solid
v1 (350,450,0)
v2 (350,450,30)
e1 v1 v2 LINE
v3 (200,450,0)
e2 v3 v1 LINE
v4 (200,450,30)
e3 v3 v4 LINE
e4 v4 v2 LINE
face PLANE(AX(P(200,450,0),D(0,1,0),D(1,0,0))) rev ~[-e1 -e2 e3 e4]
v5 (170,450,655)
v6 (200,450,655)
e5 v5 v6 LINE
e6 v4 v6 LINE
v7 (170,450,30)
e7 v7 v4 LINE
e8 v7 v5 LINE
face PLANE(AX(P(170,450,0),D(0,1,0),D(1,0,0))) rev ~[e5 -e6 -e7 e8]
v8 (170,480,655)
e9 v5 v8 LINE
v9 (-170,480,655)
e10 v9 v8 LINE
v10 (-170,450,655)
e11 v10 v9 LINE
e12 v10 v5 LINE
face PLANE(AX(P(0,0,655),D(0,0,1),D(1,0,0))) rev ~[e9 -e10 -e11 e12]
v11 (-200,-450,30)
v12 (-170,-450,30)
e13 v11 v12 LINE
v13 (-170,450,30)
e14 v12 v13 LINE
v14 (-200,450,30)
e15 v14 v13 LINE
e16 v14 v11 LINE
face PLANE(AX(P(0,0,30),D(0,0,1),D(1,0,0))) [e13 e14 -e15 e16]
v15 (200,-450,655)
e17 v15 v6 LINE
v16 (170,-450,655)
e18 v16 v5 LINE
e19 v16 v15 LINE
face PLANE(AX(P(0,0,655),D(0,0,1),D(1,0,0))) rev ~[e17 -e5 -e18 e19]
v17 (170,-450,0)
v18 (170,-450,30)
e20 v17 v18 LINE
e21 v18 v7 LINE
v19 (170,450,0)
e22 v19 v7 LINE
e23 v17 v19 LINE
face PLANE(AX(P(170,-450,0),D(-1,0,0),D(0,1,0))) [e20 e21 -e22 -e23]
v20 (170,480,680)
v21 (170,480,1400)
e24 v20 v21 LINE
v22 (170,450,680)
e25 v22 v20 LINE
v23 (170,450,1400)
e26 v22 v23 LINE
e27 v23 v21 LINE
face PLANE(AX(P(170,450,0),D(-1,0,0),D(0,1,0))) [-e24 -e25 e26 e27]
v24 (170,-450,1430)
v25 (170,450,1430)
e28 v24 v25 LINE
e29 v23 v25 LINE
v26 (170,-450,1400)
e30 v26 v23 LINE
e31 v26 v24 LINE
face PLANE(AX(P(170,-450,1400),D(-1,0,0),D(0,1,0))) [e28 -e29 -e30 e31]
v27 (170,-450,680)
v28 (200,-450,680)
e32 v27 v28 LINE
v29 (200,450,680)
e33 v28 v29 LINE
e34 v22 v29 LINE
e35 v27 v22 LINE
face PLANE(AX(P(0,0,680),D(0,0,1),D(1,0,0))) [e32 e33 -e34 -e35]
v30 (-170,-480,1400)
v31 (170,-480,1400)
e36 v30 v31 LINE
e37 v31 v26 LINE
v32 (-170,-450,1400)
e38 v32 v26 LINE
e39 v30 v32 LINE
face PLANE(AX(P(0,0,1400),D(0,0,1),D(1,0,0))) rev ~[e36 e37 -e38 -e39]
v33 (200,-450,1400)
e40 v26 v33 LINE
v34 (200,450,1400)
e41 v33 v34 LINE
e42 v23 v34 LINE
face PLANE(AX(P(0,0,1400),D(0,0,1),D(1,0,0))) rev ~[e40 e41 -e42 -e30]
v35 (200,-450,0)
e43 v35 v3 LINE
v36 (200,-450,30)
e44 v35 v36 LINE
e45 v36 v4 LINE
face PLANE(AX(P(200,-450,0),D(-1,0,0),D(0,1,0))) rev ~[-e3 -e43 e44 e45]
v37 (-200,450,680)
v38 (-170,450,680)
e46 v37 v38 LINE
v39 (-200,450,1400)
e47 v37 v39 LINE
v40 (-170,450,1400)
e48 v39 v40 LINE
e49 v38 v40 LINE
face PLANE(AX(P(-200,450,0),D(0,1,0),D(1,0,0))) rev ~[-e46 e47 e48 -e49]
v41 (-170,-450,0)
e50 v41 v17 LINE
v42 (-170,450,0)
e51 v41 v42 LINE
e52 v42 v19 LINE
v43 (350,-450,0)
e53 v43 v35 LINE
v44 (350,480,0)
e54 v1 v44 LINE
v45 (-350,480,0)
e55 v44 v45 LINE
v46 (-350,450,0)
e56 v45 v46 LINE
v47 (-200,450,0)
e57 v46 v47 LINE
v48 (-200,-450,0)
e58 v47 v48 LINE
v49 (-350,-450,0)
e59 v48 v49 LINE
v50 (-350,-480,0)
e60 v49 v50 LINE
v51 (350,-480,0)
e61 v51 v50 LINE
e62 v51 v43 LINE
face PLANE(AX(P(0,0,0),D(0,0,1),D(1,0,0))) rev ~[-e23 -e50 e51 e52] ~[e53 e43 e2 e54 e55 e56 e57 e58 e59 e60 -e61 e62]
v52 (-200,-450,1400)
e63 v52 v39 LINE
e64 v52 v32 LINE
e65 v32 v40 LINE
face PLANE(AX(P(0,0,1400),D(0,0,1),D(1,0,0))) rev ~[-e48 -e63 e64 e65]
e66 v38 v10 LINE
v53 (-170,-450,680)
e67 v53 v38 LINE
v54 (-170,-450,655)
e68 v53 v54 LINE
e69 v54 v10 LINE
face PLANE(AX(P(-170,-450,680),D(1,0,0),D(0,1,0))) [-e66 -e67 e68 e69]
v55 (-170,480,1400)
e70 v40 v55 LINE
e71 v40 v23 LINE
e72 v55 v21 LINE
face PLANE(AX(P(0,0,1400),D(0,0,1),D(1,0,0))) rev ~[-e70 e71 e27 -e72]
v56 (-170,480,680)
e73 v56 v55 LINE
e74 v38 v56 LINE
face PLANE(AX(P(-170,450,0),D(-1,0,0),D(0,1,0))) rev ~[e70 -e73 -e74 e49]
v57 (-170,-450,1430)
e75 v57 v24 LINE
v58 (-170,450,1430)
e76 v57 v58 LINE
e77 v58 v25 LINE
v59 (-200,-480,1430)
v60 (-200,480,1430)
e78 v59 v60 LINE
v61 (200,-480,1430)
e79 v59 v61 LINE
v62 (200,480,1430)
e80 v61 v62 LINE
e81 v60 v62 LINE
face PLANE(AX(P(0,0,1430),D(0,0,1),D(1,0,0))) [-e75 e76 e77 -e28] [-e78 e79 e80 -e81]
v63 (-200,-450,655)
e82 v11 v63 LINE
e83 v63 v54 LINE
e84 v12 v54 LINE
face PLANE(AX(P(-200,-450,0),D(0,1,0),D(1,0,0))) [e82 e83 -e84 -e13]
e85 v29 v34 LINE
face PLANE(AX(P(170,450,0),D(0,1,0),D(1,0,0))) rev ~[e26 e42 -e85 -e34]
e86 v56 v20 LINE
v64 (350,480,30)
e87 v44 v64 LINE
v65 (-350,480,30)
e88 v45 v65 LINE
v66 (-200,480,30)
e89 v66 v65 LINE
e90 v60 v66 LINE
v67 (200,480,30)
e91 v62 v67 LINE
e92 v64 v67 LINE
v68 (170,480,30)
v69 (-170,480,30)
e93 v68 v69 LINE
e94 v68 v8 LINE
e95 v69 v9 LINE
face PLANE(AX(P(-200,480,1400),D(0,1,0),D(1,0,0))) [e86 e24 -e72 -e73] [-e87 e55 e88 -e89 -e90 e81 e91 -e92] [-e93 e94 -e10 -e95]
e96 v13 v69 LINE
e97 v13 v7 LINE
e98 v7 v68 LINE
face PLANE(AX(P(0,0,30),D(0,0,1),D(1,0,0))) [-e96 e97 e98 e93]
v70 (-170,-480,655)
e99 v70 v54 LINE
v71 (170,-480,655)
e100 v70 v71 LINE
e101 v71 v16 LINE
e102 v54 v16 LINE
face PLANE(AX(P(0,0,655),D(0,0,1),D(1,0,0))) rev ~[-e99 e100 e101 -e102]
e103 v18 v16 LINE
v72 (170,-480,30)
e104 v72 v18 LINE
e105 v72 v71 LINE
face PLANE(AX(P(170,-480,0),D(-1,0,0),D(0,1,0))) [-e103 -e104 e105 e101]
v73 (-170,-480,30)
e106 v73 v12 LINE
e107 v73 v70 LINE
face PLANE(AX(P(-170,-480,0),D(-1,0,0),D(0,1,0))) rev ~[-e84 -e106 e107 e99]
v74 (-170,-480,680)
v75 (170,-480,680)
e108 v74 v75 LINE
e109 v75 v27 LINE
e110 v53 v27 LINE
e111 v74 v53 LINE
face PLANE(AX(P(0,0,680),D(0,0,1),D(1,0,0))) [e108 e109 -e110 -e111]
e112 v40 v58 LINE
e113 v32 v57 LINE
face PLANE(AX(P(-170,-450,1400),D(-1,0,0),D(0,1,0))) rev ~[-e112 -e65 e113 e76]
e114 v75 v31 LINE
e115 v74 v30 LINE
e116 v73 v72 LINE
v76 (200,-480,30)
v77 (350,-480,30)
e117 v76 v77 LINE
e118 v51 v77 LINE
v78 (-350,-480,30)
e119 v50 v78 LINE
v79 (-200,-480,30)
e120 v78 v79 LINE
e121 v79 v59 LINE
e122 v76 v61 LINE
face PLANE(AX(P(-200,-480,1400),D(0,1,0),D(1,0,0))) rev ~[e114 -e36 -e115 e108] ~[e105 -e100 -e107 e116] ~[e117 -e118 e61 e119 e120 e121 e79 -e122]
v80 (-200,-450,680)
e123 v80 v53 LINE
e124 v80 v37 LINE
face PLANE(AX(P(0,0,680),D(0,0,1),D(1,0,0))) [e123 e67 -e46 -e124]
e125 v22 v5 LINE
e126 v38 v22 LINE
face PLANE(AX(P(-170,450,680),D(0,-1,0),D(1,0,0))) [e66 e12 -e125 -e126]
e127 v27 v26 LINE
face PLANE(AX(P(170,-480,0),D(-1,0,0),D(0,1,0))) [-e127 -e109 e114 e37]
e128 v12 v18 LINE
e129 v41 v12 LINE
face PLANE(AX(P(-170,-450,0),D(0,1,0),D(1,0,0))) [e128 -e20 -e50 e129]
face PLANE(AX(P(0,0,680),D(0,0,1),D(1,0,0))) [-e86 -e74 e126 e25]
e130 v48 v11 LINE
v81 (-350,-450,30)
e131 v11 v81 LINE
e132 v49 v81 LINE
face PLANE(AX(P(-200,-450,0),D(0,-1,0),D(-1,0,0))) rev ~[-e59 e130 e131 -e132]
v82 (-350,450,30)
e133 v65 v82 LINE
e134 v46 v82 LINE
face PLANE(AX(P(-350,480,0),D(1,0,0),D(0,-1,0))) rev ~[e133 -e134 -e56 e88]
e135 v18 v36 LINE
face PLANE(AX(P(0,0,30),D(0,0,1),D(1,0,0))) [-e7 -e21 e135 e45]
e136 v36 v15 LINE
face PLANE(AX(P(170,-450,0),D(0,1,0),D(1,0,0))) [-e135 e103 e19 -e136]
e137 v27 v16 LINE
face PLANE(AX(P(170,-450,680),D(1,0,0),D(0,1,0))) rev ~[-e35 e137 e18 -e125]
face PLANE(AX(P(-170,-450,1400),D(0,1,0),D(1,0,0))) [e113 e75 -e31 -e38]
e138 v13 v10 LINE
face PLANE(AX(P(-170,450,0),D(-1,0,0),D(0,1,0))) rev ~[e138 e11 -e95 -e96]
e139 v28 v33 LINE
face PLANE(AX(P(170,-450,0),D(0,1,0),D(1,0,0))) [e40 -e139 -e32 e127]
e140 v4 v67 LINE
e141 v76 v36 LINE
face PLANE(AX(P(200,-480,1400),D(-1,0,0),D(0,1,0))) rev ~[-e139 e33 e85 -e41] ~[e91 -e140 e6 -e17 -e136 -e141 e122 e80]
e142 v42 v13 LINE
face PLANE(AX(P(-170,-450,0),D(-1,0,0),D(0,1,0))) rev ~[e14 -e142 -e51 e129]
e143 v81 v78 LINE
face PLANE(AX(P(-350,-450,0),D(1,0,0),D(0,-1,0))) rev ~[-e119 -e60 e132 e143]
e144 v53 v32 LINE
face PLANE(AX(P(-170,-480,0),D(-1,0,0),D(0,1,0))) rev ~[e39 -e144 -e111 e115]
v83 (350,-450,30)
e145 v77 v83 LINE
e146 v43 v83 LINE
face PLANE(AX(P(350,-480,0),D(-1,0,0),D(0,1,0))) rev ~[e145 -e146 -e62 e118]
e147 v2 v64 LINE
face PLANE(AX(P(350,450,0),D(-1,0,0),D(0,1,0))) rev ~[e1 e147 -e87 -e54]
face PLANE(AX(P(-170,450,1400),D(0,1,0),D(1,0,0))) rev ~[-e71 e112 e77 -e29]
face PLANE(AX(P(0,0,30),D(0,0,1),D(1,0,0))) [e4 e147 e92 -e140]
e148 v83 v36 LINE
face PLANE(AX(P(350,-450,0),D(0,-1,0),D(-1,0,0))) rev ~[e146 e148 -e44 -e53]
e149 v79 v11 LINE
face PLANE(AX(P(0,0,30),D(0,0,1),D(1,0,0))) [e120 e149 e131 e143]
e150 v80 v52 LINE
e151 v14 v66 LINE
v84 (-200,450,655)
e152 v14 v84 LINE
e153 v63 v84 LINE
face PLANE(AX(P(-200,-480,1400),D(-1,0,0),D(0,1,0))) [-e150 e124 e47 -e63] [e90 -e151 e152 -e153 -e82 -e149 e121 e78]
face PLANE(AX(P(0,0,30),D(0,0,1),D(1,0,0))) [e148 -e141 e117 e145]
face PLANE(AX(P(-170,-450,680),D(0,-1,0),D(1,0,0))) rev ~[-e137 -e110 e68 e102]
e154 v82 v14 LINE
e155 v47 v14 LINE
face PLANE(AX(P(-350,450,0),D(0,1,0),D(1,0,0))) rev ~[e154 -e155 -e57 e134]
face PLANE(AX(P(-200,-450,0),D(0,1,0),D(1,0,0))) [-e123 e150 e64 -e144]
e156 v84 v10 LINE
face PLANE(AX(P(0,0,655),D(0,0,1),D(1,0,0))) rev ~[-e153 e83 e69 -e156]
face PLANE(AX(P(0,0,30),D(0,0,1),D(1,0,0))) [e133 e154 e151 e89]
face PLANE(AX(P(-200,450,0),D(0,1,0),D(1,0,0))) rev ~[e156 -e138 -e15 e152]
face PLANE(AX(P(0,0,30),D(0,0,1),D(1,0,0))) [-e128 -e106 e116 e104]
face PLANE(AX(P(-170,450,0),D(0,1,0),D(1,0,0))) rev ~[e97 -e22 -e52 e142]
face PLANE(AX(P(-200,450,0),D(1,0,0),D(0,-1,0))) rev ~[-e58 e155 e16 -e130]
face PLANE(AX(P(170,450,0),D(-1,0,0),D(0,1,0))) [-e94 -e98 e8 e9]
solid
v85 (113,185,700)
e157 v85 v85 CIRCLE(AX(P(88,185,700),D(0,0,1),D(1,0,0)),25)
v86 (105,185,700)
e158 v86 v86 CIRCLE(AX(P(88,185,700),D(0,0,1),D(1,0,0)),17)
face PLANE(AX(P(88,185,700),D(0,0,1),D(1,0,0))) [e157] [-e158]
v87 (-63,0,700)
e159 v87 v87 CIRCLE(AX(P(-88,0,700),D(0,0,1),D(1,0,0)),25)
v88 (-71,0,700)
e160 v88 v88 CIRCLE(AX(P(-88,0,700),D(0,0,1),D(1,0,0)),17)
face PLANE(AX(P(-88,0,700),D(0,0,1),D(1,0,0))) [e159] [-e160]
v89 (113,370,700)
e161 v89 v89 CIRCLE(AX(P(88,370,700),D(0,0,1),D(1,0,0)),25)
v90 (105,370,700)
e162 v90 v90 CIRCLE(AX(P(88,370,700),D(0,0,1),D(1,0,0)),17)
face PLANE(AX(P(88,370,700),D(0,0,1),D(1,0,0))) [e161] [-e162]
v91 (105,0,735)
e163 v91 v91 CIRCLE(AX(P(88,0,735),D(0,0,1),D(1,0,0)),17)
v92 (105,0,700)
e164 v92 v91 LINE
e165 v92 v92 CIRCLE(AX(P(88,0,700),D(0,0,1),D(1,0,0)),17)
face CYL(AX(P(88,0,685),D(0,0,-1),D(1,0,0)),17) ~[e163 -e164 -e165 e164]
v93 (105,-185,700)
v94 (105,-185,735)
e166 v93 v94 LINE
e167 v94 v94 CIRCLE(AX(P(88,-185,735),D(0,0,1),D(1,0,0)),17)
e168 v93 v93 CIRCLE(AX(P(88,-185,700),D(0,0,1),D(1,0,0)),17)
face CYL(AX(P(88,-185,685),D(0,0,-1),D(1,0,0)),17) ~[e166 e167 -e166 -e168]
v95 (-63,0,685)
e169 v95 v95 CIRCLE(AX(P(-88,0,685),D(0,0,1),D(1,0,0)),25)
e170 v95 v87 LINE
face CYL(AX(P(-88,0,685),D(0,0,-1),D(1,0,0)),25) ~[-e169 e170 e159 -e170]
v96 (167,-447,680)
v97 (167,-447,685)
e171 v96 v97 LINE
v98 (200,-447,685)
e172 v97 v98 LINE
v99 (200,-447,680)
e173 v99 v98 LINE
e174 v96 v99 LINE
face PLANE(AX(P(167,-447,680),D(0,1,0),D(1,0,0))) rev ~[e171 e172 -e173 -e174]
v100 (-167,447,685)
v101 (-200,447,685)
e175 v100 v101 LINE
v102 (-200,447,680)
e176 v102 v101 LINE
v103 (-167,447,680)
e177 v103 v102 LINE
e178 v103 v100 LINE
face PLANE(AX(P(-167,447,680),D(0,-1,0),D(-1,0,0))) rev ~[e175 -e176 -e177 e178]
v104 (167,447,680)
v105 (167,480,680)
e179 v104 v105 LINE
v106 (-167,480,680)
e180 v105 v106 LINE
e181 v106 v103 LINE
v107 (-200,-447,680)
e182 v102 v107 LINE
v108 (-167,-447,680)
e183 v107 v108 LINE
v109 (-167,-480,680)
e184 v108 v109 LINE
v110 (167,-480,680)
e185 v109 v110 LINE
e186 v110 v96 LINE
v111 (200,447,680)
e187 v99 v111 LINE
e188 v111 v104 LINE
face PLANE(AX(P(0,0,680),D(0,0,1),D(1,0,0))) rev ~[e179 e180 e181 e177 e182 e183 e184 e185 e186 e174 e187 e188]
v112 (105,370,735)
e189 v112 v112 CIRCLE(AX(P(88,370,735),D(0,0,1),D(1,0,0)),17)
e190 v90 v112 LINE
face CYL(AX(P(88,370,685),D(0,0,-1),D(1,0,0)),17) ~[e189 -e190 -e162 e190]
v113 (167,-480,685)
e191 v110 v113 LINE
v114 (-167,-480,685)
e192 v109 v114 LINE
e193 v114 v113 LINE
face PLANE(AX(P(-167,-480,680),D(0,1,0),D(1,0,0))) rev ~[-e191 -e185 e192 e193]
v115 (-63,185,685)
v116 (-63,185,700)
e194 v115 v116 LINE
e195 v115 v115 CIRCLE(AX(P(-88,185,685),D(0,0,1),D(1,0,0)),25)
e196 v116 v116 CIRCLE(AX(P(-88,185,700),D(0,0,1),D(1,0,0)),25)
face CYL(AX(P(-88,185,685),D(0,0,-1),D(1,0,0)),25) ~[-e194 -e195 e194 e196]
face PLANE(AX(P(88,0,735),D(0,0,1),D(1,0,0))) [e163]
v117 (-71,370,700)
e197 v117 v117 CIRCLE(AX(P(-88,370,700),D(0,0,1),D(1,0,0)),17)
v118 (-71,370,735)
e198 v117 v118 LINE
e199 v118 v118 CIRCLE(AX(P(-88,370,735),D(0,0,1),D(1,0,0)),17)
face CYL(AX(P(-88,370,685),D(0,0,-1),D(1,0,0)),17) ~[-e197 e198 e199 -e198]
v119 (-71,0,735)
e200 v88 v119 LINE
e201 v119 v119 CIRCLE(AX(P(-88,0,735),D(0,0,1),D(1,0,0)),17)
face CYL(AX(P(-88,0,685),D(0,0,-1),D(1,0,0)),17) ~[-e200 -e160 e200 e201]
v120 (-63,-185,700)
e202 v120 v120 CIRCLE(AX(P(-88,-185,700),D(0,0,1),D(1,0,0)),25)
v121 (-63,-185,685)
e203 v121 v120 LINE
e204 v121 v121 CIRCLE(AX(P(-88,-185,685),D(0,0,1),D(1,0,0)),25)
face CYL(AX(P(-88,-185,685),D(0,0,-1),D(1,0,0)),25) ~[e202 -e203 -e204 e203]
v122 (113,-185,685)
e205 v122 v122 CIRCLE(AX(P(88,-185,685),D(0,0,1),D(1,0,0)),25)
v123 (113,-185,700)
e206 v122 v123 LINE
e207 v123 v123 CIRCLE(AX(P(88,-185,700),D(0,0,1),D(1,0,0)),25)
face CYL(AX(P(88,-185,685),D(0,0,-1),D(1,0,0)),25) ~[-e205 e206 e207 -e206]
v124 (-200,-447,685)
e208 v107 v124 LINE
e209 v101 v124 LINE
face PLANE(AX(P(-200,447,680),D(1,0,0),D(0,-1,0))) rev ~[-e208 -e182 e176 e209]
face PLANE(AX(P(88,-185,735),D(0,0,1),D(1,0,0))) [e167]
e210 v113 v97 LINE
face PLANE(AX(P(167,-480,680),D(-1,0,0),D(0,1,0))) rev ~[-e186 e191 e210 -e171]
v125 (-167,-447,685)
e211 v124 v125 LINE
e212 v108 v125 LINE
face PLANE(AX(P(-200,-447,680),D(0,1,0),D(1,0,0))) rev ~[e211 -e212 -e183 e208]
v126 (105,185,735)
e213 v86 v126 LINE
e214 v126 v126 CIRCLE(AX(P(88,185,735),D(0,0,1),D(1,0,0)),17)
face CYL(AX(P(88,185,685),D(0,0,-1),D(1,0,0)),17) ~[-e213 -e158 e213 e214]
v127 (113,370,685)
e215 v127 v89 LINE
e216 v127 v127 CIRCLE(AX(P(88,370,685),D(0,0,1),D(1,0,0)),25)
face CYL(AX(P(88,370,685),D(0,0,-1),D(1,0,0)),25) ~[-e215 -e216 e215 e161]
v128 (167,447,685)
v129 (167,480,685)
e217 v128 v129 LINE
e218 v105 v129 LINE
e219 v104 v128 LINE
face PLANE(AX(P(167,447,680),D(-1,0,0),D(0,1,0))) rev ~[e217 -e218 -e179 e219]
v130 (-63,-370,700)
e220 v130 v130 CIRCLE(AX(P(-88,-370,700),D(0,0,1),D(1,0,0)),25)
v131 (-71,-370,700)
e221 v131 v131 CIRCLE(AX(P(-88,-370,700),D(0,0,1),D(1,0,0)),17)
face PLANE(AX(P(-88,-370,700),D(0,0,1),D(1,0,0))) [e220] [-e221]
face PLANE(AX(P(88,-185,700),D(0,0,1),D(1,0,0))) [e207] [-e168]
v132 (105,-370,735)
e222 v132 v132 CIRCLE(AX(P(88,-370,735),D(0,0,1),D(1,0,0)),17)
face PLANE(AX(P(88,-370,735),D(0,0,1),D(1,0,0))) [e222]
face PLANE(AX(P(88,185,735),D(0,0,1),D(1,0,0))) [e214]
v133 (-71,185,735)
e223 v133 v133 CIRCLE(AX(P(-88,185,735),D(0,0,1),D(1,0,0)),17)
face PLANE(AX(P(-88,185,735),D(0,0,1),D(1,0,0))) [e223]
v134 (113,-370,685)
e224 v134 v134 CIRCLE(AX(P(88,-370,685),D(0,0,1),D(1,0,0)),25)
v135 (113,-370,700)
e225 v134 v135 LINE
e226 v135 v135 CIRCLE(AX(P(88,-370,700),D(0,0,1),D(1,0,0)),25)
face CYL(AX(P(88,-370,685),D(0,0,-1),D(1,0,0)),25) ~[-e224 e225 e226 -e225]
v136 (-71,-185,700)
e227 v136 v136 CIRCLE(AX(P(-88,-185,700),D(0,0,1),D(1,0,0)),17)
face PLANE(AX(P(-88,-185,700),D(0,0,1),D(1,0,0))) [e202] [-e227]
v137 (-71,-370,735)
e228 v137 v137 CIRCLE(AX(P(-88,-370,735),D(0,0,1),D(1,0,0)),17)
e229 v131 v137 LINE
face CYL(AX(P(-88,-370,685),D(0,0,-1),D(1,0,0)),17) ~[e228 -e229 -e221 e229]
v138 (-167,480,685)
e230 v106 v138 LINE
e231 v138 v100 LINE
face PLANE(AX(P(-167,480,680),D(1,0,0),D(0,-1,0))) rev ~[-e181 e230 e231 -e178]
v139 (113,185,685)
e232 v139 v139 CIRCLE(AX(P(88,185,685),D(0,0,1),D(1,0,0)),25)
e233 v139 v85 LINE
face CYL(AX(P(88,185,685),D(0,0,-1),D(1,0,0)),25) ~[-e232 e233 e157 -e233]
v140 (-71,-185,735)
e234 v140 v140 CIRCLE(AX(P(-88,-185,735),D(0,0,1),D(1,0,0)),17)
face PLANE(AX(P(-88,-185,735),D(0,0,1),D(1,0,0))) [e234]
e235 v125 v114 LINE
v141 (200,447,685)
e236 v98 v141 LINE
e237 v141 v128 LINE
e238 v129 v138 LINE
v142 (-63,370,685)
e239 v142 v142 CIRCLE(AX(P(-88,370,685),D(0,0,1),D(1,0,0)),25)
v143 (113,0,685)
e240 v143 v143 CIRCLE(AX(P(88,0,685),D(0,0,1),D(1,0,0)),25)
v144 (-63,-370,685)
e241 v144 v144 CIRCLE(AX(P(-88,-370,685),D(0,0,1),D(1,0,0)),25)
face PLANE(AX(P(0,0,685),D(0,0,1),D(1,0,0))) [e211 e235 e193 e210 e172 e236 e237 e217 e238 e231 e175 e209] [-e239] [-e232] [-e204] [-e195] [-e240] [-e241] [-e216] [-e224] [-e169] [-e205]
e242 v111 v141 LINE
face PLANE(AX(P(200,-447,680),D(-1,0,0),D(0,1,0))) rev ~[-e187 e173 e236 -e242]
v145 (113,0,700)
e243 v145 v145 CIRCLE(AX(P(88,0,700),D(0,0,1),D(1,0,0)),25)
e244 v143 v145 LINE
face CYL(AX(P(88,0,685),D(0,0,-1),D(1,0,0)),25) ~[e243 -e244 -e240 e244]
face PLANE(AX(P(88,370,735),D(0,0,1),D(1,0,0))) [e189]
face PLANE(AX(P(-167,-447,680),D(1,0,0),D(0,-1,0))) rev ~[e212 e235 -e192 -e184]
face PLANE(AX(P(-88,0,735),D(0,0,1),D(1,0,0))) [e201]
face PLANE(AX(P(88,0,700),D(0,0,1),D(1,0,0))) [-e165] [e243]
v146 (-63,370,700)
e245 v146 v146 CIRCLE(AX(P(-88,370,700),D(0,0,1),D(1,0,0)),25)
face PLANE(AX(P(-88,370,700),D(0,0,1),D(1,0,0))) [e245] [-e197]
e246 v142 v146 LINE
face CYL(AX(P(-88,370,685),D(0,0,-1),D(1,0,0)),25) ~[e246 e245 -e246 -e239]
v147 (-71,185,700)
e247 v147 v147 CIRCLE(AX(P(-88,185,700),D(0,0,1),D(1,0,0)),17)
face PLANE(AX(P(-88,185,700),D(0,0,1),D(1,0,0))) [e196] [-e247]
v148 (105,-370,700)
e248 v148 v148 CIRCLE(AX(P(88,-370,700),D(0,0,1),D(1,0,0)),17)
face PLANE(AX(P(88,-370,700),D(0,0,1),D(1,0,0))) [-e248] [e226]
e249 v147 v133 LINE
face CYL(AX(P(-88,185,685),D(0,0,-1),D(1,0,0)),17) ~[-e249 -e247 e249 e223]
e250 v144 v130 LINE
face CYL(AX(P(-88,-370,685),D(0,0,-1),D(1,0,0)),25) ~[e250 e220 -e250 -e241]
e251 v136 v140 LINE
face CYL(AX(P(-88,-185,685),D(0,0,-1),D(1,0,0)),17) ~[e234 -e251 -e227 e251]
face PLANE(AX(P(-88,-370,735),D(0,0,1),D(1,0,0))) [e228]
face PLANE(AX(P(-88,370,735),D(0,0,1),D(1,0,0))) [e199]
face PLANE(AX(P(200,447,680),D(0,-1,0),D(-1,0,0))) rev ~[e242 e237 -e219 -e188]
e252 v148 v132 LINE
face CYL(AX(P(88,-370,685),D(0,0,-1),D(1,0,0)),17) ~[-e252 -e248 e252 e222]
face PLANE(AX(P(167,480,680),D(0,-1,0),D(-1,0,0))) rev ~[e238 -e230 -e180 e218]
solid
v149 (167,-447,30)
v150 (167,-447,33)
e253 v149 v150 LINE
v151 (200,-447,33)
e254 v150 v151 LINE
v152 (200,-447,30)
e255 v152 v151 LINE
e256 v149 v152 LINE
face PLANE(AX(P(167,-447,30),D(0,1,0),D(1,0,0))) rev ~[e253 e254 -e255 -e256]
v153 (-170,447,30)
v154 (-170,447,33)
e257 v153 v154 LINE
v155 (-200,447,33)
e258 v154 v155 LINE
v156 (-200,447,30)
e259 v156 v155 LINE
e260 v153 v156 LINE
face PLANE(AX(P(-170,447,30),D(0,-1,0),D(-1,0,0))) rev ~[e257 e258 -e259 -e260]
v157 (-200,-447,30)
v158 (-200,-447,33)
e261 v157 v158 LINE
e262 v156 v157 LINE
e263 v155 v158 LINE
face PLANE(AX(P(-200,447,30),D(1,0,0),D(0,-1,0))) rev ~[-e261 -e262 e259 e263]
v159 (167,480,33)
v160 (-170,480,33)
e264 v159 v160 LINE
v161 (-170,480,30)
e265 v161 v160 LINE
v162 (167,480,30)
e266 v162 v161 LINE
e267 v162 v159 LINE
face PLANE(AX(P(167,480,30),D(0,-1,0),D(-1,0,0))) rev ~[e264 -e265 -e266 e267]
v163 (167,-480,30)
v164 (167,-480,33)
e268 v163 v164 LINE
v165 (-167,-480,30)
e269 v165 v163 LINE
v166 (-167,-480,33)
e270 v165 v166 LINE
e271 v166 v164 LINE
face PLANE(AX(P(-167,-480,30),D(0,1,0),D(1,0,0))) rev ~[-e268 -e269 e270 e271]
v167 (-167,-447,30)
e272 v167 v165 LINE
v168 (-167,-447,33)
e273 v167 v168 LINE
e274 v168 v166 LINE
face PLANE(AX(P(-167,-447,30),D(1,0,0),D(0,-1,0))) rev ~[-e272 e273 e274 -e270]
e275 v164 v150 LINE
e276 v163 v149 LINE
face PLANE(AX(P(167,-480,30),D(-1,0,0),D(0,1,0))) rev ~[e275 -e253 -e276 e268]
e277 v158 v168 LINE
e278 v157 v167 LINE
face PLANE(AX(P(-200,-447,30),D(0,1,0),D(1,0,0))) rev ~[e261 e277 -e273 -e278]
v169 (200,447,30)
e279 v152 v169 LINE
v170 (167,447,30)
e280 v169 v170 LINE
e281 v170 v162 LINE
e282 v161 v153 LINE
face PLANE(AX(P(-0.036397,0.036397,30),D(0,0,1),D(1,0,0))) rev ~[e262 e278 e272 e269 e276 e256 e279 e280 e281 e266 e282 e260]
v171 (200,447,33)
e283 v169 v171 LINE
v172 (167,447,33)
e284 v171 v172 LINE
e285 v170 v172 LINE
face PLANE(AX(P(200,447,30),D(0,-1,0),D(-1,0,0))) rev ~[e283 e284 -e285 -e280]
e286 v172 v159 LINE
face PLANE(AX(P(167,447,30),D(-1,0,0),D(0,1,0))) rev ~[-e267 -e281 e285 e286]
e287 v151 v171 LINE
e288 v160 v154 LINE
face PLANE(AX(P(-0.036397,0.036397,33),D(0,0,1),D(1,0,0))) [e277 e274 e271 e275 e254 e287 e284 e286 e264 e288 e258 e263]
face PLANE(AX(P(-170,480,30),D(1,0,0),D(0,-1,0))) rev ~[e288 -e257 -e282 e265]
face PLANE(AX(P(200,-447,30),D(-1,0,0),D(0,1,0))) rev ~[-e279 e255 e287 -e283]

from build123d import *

# Parameters (mm, degrees)
F0_W      = 30
F0_H      = 30
F1_DEPTH  = 1400
F2_W      = 340
F2_H      = 900
F3_DEPTH  = 30
F5_W      = 400
F5_H      = 960
F5_W_2    = 340
F5_H_2    = 900
F6_DEPTH  = 25
F8_W      = 400
F8_H      = 960
F8_W_2    = 340
F8_H_2    = 900
F9_DEPTH  = 30
F11_DEPTH = 5
F12_R     = 17
F13_DEPTH = 50
F14_R     = 25
F14_R_2   = 17
F15_DEPTH = 15
F17_DEPTH = 3


with BuildPart() as f1:
    # F0 (on Top) → F1 (new body)
    with BuildSketch(Plane.XY):
        with Locations((185, 465)):
            Rectangle(F0_W, F0_H)
        with Locations((185, -465)):
            Rectangle(F0_W, F0_H)
        with Locations((-185, 465)):
            Rectangle(F0_W, F0_H)
        with Locations((-185, -465)):
            Rectangle(F0_W, F0_H)
    extrude(amount=F1_DEPTH)

    # F2 (on Top) → F3 (join)
    with BuildSketch(Plane.XY):
        Polygon((350, 480), (200, 480), (-200, 480), (-350, 480), (-350, 450), (-200, 450), (-200, -450), (-350, -450), (-350, -480), (-200, -480), (200, -480), (350, -480), (350, -450), (200, -450), (200, 450), (350, 450), align=None)
        Rectangle(F2_W, F2_H, mode=Mode.SUBTRACT)
    extrude(amount=F3_DEPTH)

    # F5 (on offset) → F6 (join)
    with BuildSketch(Plane.XY.offset(680)):
        Rectangle(F5_W, F5_H)
        Rectangle(F5_W_2, F5_H_2, mode=Mode.SUBTRACT)
    extrude(amount=-F6_DEPTH)

    # F8 (on offset) → F9 (join)
    with BuildSketch(Plane.XY.offset(1400)):
        Rectangle(F8_W, F8_H)
        Rectangle(F8_W_2, F8_H_2, mode=Mode.SUBTRACT)
    extrude(amount=F9_DEPTH)


with BuildPart() as f11:
    # F10 (on offset) → F11 (new body)
    with BuildSketch(Plane.XY.offset(680)):
        Polygon((-200, 447), (-200, 0), (-200, -447), (-167, -447), (-167, -480), (167, -480), (167, -447), (200, -447), (200, 447), (167, 447), (167, 480), (-167, 480), (-167, 447), align=None)
    extrude(amount=F11_DEPTH)

    # F12 (on face) → F13 (join)
    with BuildSketch(Plane.XY.offset(685)):
        with Locations((-88, -185)):
            Circle(F12_R)
        with Locations((-88, -370)):
            Circle(F12_R)
        with Locations((88, -185)):
            Circle(F12_R)
        with Locations((88, -370)):
            Circle(F12_R)
        with Locations((88, 0)):
            Circle(F12_R)
        with Locations((-88, 0)):
            Circle(F12_R)
        with Locations((-88, 185)):
            Circle(F12_R)
        with Locations((88, 185)):
            Circle(F12_R)
        with Locations((88, 370)):
            Circle(F12_R)
        with Locations((-88, 370)):
            Circle(F12_R)
    extrude(amount=F13_DEPTH)

    # F14 (on face) → F15 (join)
    with BuildSketch(Plane.XY.offset(685)):
        with Locations((88, -370)):
            Circle(F14_R)
        with Locations((88, -370)):
            Circle(F14_R_2, mode=Mode.SUBTRACT)
        with Locations((-88, -370)):
            Circle(F14_R)
        with Locations((-88, -370)):
            Circle(F14_R_2, mode=Mode.SUBTRACT)
        with Locations((-88, -185)):
            Circle(F14_R)
        with Locations((-88, -185)):
            Circle(F14_R_2, mode=Mode.SUBTRACT)
        with Locations((88, -185)):
            Circle(F14_R)
        with Locations((88, -185)):
            Circle(F14_R_2, mode=Mode.SUBTRACT)
        with Locations((-88, 0)):
            Circle(F14_R)
        with Locations((-88, 0)):
            Circle(F14_R_2, mode=Mode.SUBTRACT)
        with Locations((88, 0)):
            Circle(F14_R)
        with Locations((88, 0)):
            Circle(F14_R_2, mode=Mode.SUBTRACT)
        with Locations((88, 185)):
            Circle(F14_R)
        with Locations((88, 185)):
            Circle(F14_R_2, mode=Mode.SUBTRACT)
        with Locations((-88, 185)):
            Circle(F14_R)
        with Locations((-88, 185)):
            Circle(F14_R_2, mode=Mode.SUBTRACT)
        with Locations((-88, 370)):
            Circle(F14_R)
        with Locations((-88, 370)):
            Circle(F14_R_2, mode=Mode.SUBTRACT)
        with Locations((88, 370)):
            Circle(F14_R)
        with Locations((88, 370)):
            Circle(F14_R_2, mode=Mode.SUBTRACT)
    extrude(amount=F15_DEPTH)


with BuildPart() as f17:
    # F16 (on face) → F17 (new body)
    with BuildSketch(Plane.XY.offset(30)):
        Polygon((-200, 447), (-200, 43.747727), (-200, -447), (-167, -447), (-167, -480), (167, -480), (167, -447), (200, -447), (200, 447), (167, 447), (167, 480), (-170, 480), (-170, 447), align=None)
    extrude(amount=F17_DEPTH)


solid = Compound([f1.part, f11.part, f17.part])
